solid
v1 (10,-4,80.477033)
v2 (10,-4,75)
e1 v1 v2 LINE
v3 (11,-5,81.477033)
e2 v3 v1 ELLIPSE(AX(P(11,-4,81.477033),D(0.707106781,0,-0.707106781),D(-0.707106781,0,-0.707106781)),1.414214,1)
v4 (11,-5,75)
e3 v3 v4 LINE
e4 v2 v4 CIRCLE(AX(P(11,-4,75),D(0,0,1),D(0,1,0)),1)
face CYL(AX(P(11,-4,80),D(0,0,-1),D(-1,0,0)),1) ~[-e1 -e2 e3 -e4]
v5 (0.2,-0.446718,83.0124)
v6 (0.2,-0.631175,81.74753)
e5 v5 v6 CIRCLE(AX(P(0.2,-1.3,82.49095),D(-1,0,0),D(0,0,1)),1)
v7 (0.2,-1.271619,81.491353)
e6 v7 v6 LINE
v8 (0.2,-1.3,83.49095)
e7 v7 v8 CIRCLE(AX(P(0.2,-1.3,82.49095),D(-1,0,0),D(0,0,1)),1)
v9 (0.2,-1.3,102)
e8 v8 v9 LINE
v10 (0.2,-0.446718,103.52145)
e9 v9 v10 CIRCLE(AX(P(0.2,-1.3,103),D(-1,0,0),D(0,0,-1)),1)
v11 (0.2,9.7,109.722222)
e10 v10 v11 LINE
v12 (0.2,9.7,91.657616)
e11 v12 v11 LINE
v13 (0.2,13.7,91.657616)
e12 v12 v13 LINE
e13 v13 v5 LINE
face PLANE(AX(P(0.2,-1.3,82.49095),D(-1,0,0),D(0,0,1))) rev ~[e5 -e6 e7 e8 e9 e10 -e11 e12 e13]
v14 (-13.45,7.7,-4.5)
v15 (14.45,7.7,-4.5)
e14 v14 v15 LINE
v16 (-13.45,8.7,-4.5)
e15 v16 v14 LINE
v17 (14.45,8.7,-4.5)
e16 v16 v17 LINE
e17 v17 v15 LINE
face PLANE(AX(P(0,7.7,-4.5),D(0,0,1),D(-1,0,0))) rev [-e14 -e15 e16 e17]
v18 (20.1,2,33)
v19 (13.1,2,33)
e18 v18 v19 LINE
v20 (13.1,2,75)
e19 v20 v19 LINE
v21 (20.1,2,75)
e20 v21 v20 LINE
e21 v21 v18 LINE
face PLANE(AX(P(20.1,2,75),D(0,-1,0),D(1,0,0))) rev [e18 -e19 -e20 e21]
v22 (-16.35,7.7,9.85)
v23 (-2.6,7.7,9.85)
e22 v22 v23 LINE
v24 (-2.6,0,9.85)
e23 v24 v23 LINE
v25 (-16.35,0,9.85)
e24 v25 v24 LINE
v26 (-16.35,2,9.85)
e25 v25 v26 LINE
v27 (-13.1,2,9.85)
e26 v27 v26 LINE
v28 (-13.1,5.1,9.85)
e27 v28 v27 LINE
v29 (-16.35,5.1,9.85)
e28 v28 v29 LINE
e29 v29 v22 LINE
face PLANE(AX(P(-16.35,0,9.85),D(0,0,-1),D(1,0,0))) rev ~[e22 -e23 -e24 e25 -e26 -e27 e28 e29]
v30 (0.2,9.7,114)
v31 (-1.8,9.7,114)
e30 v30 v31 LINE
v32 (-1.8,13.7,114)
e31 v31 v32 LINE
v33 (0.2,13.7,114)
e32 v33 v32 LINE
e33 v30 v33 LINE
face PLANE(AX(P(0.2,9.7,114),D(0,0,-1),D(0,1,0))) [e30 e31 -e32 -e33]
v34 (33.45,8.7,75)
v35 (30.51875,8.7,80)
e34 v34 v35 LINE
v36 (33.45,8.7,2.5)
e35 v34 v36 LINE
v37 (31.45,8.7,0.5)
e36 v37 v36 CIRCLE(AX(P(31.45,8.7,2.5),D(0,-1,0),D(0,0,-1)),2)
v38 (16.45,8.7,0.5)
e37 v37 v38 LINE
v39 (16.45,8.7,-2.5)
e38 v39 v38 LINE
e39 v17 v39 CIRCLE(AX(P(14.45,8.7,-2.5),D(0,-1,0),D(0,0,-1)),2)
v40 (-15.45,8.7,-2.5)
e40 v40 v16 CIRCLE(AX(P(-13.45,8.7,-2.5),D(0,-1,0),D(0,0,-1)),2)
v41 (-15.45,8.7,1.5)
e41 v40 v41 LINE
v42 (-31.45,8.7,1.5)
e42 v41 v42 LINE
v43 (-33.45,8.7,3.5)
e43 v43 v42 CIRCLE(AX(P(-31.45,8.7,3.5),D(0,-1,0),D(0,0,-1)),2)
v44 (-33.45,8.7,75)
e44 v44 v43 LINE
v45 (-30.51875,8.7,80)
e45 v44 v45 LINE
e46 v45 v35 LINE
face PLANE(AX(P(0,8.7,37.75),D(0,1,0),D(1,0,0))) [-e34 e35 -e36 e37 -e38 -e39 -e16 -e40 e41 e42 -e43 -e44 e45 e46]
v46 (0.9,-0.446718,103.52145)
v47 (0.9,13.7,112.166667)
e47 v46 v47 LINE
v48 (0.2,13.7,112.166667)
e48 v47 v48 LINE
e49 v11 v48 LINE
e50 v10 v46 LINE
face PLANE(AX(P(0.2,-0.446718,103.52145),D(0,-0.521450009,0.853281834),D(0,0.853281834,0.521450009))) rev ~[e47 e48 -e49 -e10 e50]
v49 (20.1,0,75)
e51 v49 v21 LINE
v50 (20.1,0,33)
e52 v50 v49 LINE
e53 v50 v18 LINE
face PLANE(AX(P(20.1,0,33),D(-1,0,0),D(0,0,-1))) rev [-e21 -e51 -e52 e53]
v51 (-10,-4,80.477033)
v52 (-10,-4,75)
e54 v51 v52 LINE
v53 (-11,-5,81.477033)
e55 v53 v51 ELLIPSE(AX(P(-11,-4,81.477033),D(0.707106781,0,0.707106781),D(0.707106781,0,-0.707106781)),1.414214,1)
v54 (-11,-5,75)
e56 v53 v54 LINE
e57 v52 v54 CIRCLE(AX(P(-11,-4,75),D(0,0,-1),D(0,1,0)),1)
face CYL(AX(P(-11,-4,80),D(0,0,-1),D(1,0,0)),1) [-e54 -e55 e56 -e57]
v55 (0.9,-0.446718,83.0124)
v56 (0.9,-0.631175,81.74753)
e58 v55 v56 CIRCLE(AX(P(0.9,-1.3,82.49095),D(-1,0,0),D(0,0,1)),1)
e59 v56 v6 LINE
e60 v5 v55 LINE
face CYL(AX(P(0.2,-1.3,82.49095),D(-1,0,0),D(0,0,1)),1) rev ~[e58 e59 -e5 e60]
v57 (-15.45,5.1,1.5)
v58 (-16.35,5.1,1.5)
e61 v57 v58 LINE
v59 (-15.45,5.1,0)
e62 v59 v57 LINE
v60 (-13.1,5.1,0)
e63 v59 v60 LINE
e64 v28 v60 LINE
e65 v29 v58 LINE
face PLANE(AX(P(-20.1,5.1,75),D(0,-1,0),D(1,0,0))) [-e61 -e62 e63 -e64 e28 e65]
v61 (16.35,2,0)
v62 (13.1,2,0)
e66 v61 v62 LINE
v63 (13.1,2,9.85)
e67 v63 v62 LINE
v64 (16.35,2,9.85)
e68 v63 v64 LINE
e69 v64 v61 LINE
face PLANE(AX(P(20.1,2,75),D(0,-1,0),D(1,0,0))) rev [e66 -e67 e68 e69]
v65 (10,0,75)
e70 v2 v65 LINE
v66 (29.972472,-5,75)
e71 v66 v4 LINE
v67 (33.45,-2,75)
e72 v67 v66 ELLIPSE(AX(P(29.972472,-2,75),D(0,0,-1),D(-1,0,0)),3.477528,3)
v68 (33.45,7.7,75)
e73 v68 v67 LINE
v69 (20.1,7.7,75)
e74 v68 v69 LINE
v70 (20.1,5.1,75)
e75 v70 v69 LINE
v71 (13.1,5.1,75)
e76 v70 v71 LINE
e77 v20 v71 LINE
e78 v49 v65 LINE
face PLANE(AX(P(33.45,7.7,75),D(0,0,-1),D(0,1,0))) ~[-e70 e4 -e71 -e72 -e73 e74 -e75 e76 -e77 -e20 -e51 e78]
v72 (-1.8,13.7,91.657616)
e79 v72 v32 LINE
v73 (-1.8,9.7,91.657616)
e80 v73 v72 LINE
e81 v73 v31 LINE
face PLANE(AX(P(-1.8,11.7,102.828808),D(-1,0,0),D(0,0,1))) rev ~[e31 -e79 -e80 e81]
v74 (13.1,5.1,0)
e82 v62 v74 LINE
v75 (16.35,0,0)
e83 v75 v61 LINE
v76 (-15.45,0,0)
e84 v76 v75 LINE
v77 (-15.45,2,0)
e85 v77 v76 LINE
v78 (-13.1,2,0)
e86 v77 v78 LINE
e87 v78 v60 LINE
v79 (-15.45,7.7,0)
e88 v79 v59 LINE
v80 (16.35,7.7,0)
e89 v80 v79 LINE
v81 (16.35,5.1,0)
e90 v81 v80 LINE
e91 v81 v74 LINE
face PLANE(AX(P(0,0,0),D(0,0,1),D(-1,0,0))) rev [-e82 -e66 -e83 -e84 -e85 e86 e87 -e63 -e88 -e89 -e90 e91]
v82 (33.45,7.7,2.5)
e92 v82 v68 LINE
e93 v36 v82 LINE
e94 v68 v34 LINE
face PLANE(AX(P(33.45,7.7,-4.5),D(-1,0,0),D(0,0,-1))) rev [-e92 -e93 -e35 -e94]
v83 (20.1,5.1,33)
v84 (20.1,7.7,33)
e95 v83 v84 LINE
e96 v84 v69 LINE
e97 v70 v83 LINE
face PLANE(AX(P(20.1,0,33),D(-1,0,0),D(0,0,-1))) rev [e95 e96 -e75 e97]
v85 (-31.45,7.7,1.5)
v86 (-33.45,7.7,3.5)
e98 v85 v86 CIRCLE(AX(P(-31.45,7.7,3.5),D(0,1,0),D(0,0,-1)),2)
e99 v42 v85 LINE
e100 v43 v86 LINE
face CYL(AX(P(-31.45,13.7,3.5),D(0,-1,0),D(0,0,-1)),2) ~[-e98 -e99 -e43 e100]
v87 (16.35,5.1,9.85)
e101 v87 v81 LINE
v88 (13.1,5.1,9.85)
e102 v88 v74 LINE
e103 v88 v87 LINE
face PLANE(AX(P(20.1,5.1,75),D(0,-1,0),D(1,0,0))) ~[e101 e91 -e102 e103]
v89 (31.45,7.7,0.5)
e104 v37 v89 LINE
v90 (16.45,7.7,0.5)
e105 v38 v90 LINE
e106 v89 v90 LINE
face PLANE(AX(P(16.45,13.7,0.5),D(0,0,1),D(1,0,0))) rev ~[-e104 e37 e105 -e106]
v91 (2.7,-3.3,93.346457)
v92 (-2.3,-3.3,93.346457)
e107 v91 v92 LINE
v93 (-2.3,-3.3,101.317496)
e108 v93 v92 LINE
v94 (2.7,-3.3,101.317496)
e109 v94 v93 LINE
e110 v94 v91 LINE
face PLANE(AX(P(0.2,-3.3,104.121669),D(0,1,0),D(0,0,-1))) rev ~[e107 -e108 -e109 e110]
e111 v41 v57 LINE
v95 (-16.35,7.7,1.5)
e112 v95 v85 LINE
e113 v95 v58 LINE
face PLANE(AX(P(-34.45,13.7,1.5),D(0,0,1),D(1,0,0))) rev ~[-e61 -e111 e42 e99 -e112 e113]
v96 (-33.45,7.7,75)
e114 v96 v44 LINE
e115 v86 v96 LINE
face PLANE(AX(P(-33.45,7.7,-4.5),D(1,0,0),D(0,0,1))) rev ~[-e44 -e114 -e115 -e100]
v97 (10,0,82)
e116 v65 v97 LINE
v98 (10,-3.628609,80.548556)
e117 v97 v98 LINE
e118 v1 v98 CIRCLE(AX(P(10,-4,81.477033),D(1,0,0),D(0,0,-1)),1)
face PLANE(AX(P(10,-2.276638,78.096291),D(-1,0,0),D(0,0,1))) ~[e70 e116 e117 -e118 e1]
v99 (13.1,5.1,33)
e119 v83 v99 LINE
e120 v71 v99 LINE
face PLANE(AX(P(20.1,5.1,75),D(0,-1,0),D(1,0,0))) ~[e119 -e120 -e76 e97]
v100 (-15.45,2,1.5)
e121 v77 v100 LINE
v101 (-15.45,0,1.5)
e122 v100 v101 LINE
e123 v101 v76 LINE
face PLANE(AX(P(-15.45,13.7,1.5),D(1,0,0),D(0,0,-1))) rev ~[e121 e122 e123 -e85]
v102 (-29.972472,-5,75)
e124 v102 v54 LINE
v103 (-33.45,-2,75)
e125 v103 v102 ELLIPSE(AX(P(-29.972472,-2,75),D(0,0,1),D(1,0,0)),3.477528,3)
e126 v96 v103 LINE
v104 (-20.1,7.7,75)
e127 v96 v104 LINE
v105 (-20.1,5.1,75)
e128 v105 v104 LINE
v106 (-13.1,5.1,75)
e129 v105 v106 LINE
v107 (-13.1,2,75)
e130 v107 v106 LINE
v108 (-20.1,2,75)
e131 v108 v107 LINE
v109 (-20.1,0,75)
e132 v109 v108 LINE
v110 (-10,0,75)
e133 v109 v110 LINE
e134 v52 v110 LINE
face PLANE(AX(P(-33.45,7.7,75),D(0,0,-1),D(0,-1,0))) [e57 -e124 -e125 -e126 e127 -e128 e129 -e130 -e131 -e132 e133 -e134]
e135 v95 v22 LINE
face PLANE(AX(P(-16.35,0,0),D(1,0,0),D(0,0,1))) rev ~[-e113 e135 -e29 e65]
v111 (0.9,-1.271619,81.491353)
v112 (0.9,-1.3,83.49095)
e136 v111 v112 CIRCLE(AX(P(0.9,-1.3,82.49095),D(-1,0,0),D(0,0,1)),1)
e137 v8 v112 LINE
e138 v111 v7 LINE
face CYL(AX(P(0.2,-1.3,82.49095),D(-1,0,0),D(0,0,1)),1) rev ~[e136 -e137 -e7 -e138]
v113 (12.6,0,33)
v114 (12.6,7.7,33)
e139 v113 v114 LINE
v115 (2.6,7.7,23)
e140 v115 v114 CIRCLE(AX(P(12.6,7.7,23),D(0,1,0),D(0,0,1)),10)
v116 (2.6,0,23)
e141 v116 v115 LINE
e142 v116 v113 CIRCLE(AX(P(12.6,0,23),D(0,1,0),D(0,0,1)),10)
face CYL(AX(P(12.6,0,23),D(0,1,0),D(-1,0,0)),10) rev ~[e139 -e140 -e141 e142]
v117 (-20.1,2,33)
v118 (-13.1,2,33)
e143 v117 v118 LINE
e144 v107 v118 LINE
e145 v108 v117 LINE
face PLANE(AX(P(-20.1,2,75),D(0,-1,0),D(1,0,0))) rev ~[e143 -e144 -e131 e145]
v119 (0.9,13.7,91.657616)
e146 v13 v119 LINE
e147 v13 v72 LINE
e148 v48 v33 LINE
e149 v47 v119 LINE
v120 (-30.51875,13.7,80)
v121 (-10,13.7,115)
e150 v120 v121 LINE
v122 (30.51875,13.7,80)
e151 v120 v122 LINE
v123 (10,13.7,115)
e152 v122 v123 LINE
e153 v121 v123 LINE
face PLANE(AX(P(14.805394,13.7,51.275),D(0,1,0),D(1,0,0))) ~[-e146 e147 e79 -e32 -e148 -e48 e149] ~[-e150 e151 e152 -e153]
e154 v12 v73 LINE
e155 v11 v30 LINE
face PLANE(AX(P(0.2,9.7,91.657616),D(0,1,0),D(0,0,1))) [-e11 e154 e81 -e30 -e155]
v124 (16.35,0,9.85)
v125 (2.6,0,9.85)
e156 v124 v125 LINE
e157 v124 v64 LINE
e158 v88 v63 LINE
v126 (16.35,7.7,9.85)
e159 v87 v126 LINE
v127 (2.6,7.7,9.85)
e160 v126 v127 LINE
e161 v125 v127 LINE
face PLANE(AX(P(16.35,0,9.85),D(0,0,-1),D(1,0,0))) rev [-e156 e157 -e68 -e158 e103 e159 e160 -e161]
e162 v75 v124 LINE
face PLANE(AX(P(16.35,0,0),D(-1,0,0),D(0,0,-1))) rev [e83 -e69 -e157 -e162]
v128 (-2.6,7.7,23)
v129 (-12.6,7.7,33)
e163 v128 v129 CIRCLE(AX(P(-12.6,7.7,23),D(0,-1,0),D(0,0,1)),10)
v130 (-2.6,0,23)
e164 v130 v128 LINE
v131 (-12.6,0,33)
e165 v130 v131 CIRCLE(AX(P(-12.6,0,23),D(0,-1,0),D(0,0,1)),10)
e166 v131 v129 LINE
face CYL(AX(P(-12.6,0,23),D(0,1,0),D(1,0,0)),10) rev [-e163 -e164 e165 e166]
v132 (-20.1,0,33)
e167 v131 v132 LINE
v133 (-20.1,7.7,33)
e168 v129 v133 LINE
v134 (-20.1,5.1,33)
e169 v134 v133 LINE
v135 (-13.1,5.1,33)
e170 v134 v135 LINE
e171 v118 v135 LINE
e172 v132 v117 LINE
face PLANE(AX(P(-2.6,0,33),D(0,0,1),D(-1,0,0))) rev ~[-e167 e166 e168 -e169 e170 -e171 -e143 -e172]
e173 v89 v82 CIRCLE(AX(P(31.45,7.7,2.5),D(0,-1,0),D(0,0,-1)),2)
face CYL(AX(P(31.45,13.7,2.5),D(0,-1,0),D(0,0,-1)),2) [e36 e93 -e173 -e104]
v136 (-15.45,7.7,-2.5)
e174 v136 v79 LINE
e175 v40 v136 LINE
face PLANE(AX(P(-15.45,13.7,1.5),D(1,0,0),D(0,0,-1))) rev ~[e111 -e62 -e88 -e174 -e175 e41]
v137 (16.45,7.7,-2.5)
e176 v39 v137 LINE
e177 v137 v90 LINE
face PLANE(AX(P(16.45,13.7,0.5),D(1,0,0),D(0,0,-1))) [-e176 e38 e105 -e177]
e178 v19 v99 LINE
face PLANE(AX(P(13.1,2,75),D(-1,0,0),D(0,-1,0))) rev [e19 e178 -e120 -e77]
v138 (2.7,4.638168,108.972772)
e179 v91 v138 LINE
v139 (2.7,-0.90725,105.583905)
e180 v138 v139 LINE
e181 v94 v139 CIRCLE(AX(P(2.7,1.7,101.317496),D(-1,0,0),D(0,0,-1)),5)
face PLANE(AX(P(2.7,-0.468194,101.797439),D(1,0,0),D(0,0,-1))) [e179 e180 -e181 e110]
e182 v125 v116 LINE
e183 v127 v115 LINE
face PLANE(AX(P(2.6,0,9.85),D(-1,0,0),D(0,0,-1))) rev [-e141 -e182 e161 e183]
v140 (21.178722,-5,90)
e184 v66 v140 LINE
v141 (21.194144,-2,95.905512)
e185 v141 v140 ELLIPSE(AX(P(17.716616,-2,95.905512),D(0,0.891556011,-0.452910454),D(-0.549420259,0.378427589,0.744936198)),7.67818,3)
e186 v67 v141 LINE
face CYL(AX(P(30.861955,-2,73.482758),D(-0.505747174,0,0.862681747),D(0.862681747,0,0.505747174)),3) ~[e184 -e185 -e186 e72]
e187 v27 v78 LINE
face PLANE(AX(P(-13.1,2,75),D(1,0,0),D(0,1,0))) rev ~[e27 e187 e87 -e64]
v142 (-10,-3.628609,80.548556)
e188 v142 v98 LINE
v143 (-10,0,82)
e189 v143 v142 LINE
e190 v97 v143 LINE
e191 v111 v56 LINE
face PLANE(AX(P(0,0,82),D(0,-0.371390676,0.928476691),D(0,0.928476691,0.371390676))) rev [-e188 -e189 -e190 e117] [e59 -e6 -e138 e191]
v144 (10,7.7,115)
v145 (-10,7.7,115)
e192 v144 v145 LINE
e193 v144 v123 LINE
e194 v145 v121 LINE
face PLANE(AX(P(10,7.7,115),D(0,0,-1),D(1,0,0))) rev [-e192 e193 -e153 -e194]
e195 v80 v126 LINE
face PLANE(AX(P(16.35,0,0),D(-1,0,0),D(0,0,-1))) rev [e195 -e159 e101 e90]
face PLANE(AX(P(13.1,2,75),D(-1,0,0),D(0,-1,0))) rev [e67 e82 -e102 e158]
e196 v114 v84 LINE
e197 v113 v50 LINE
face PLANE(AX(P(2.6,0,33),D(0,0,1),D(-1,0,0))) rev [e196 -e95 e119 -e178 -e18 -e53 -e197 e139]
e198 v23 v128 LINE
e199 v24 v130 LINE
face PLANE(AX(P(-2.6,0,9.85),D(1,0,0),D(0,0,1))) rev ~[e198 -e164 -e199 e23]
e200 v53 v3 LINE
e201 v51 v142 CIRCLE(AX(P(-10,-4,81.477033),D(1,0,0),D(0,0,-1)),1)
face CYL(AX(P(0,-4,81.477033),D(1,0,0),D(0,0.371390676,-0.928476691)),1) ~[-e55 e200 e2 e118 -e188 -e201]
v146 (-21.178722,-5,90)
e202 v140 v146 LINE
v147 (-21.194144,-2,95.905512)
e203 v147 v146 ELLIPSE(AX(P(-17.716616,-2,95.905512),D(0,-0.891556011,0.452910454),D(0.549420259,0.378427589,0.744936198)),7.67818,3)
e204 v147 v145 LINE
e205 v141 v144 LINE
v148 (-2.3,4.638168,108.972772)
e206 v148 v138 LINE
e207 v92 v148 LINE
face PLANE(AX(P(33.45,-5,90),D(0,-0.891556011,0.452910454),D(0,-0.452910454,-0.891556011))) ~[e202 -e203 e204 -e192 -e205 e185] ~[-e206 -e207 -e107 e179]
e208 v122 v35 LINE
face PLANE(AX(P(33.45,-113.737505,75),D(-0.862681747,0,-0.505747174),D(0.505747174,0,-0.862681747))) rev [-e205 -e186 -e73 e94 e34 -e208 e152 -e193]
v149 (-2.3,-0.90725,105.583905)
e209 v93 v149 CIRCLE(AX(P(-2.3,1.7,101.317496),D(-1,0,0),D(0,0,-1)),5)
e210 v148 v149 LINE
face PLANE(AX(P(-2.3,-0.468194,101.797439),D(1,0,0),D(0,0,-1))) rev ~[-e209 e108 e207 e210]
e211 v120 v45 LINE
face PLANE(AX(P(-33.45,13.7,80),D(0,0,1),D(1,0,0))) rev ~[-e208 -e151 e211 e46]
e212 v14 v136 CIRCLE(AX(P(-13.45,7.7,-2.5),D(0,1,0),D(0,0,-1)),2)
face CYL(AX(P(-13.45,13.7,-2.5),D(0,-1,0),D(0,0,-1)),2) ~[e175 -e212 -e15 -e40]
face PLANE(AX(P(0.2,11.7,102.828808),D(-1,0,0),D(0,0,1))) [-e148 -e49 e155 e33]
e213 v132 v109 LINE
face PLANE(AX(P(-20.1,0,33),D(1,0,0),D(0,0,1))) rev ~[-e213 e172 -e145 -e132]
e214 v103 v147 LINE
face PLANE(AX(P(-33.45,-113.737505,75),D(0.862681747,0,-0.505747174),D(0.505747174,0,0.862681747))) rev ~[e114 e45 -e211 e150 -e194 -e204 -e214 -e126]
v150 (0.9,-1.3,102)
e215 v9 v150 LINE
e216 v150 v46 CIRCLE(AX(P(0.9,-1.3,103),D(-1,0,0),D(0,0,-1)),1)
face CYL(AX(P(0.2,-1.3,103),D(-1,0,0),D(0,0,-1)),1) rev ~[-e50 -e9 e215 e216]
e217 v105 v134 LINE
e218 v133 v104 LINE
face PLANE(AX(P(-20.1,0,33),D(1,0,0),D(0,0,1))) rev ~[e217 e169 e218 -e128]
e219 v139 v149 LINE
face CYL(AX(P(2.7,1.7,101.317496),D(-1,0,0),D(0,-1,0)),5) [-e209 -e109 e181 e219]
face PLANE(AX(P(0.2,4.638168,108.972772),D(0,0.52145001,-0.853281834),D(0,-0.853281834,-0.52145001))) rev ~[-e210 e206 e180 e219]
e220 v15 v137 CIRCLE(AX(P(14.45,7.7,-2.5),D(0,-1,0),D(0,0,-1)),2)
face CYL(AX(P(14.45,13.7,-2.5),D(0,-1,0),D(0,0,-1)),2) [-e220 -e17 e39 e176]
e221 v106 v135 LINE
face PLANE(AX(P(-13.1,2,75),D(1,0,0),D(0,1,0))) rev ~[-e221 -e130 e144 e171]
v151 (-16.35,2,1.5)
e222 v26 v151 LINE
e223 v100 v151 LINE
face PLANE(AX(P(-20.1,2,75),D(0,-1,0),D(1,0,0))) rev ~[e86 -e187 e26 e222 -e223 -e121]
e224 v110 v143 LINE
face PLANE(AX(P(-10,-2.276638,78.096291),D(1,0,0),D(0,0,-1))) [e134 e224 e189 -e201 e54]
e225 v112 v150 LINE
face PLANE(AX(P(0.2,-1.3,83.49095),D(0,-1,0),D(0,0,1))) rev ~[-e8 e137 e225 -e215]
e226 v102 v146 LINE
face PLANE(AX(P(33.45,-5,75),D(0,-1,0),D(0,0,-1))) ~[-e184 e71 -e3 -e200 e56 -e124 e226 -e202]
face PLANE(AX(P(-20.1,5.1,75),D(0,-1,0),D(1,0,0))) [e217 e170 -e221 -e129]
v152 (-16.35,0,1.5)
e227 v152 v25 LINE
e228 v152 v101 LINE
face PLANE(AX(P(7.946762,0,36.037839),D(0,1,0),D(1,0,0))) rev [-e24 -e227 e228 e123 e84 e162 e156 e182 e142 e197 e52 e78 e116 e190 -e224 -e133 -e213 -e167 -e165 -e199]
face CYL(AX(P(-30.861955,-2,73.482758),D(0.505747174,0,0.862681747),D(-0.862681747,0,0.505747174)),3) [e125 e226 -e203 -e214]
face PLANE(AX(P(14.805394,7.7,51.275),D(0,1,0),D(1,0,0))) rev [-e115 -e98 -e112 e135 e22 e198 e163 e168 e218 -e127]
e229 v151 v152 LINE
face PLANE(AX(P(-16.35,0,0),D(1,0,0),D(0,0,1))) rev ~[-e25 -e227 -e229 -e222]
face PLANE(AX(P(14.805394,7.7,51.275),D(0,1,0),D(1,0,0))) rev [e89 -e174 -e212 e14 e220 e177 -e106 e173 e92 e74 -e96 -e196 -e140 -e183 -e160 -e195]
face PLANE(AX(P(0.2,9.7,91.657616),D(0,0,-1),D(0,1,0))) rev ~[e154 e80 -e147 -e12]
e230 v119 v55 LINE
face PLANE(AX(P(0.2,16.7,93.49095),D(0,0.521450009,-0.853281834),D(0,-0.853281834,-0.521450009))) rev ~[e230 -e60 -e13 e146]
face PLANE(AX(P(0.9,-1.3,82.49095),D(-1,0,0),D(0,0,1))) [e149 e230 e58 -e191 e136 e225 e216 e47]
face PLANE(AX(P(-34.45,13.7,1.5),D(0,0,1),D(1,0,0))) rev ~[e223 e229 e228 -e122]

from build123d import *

# Parameters (mm, degrees)
BOSS_EXTRUDE1_DEPTH     = 7.7
SKETCH2_W               = 7
SKETCH2_H               = 3.1
CUT_EXTRUDE1_DEPTH      = 79.027559234
FILLET1_R               = 10
BOSS_EXTRUDE2_DEPTH     = 6
BOSS_EXTRUDE4_REACH     = 122.547
CUT_EXTRUDE2_DEPTH      = 121.437504541
CUT_EXTRUDE2_DEPTH_BACK = 121.437504541
CUT_EXTRUDE3_DEPTH      = 10
FILLET3_R               = 1
FILLET5_R               = 3
CUT_EXTRUDE4_REACH      = 123.217
SKETCH8_W               = 17
SKETCH8_H               = 5
SKETCH8_W_2             = 19
SKETCH8_H_2             = 7
FILLET6_R               = 2
FILLET7_R               = 2
BOSS_EXTRUDE5_DEPTH     = 2.5
FILLET8_R               = 5
SKETCH11_R              = 1
CUT_EXTRUDE5_DEPTH      = 0.7
SKETCH13_W              = 22.342383579
SKETCH13_H              = 4
CUT_EXTRUDE6_DEPTH      = 2
SKETCH14_W              = 66.9
SKETCH14_H              = 84.5
CUT_EXTRUDE8_DEPTH      = 5


with BuildPart() as part:
    # Sketch1 → Boss-Extrude1 (new body)
    with BuildSketch(Plane(origin=(0, 0, 0), x_dir=(1, 0, 0), z_dir=(0, 1, 0))):
        Polygon((0, 0), (-16.35, 0), (-16.35, -9.85), (-2.6, -9.85), (-2.6, -33), (-20.1, -33), (-20.1, -75), (0, -75), align=None)
    extrude(amount=BOSS_EXTRUDE1_DEPTH)

    # Sketch2 → Cut-Extrude1 (cut, through all)
    with BuildSketch(Plane.XY.offset(75)):
        with Locations((-16.6, 3.55)):
            Rectangle(SKETCH2_W, SKETCH2_H)
    extrude(amount=-CUT_EXTRUDE1_DEPTH, mode=Mode.SUBTRACT)

    # Fillet1
    fillet1_edges = [part.edges().sort_by_distance(p)[0] for p in [
        (-2.6, 3.85, 33),
    ]]
    fillet(fillet1_edges, radius=FILLET1_R)

    # Sketch3 → Boss-Extrude2 (add)
    with BuildSketch(Plane(origin=(0, 7.7, 0), x_dir=(1, 0, 0), z_dir=(0, 1, 0))):
        Polygon((0, 4.5), (-33.45, 4.5), (-33.45, -75), (-10, -115), (0, -115), align=None)
    extrude(amount=BOSS_EXTRUDE2_DEPTH)

    # Boss-Extrude4: up to this face of the body (flat: up to its plane)
    boss_extrude4_end = Plane(part.part.faces().sort_by_distance((0, 7.644090382, 47.331402086))[0])
    # Sketch5 → Boss-Extrude4 (add, up to the picked face)
    with BuildSketch(Plane.ZY.offset(33.45), mode=Mode.PRIVATE) as boss_extrude4_sk1:
        Polygon((75, 7.7), (75, -5), (90, -5), (115, 7.7), align=None)
    boss_extrude4_tool1 = split(extrude(boss_extrude4_sk1.sketch, amount=-BOSS_EXTRUDE4_REACH, mode=Mode.PRIVATE), bisect_by=boss_extrude4_end, keep=Keep.BOTH, mode=Mode.PRIVATE)
    add(boss_extrude4_tool1.solids().sort_by(Axis((-33.45, 2.312121, 89.69697), (1, 0, 0)))[0])

    # Sketch6 → Cut-Extrude2 (cut, two sides: drawn at the far end of the back side and taken through both)
    with BuildSketch(Plane(origin=(0, 7.7, 0), x_dir=(1, 0, 0), z_dir=(0, 1, 0)).offset(-CUT_EXTRUDE2_DEPTH_BACK)):
        Polygon((-33.45, -75), (-10, -115), (-33.45, -115), align=None)
    extrude(amount=CUT_EXTRUDE2_DEPTH + CUT_EXTRUDE2_DEPTH_BACK, mode=Mode.SUBTRACT)

    # Sketch7 → Cut-Extrude3 (cut)
    with BuildSketch(Plane(origin=(0, 0, 0), x_dir=(0, 0, -1), z_dir=(1, 0, 0))):
        Polygon((-75, 0), (-82, 0), (-80, -5), (-75, -5), align=None)
    extrude(amount=-CUT_EXTRUDE3_DEPTH, mode=Mode.SUBTRACT)

    # Fillet3
    fillet3_edges = [part.edges().sort_by_distance(p)[0] for p in [
        (-10, -5, 77.5),
        (-5, -5, 80),
    ]]
    fillet(fillet3_edges, radius=FILLET3_R)

    # Mirror1: part across plane


with BuildPart() as part_1:
    add(part.part)
    add(part.part.mirror(Plane(origin=(0, 7.7, 75), x_dir=(0, 0, 1), z_dir=(-1, 0, 0))))

    # Fillet5
    fillet5_edges = [part_1.edges().sort_by_distance(p)[0] for p in [
        (-29.053125, -5, 82.5),
        (29.053125, -5, 82.5),
    ]]
    fillet(fillet5_edges, radius=FILLET5_R)

    # Cut-Extrude4: up to this face of the body (flat: up to its plane)
    cut_extrude4_end = Plane(part_1.part.faces().sort_by_distance((0, 0, 46.525100135))[0])
    # Sketch8 → Cut-Extrude4 (cut, up to the picked face)
    with BuildSketch(Plane(origin=(0, 13.7, 0), x_dir=(1, 0, 0), z_dir=(0, 1, 0)), mode=Mode.PRIVATE) as cut_extrude4_sk1:
        with Locations((24.95, 2)):
            Rectangle(SKETCH8_W, SKETCH8_H)
    cut_extrude4_tool1 = split(extrude(cut_extrude4_sk1.sketch, amount=-CUT_EXTRUDE4_REACH, mode=Mode.PRIVATE), bisect_by=cut_extrude4_end, keep=Keep.BOTH, mode=Mode.PRIVATE)
    # Sketch8 → Cut-Extrude4 (cut, up to the picked face)
    with BuildSketch(Plane(origin=(0, 13.7, 0), x_dir=(1, 0, 0), z_dir=(0, 1, 0)), mode=Mode.PRIVATE) as cut_extrude4_sk2:
        with Locations((-24.95, 2)):
            Rectangle(SKETCH8_W_2, SKETCH8_H_2)
    cut_extrude4_tool2 = split(extrude(cut_extrude4_sk2.sketch, amount=-CUT_EXTRUDE4_REACH, mode=Mode.PRIVATE), bisect_by=cut_extrude4_end, keep=Keep.BOTH, mode=Mode.PRIVATE)
    add(cut_extrude4_tool1.solids().sort_by(Axis((24.95, 13.7, -2), (0, -1, 0)))[0], mode=Mode.SUBTRACT)
    add(cut_extrude4_tool2.solids().sort_by(Axis((-24.95, 13.7, -2), (0, -1, 0)))[0], mode=Mode.SUBTRACT)

    # Fillet6
    fillet6_edges = [part_1.edges().sort_by_distance(p)[0] for p in [
        (-15.45, 10.7, -4.5),
        (-33.45, 10.7, 1.5),
    ]]
    fillet(fillet6_edges, radius=FILLET6_R)

    # Fillet7
    fillet7_edges = [part_1.edges().sort_by_distance(p)[0] for p in [
        (33.45, 10.7, 0.5),
        (16.45, 10.7, -4.5),
    ]]
    fillet(fillet7_edges, radius=FILLET7_R)

    # Sketch12 → Boss-Extrude5 (add, symmetric)
    with BuildSketch(Plane.ZY.offset(-0.2)):
        Polygon((93.346456693, -3.3), (108.972772013, 4.638168182), (104.121669234, -3.3), align=None)
    extrude(amount=BOSS_EXTRUDE5_DEPTH, both=True)

    # Fillet8
    fillet8_edges = [part_1.edges().sort_by_distance(p)[0] for p in [
        (0.2, -3.3, 104.121669234),
    ]]
    fillet(fillet8_edges, radius=FILLET8_R)

    # Sketch11 → Cut-Extrude5 (cut)
    with BuildSketch(Plane.ZY.offset(-0.2)):
        with Locations((82.490949754, -1.3)):
            Circle(SKETCH11_R)
        with Locations((103, -1.3)):
            Circle(SKETCH11_R)
        Polygon((82.490949754, -1.3), (103, -1.3), (114, 16.7), (93.490949754, 16.7), align=None)
        with BuildLine():
            Line((83.490949754, -1.3), (82.490949754, -1.3))
            Line((82.490949754, -1.3), (83.012399764, -0.446718166))
            ThreePointArc((83.012399764, -0.446718166), (81.618754246, -1.789157434), (83.490949754, -1.3))
        make_face()
        with BuildLine():
            Line((83.012399764, -0.446718166), (82.490949754, -1.3))
            Line((82.490949754, -1.3), (83.490949754, -1.3))
            ThreePointArc((83.490949754, -1.3), (83.363145263, -0.810842566), (83.012399764, -0.446718166))
        make_face()
        with BuildLine():
            ThreePointArc((103.521450009, -0.446718166), (102.510842566, -0.427804492), (102, -1.3))
            Line((102, -1.3), (103, -1.3))
            Line((103, -1.3), (103.521450009, -0.446718166))
        make_face()
        with BuildLine():
            Line((103, -1.3), (102, -1.3))
            ThreePointArc((102, -1.3), (103, -2.3), (104, -1.3))
            ThreePointArc((104, -1.3), (103.872195508, -0.810842566), (103.521450009, -0.446718166))
            Line((103.521450009, -0.446718166), (103, -1.3))
        make_face()
    extrude(amount=-CUT_EXTRUDE5_DEPTH, mode=Mode.SUBTRACT)

    # Sketch13 → Cut-Extrude6 (cut)
    with BuildSketch(Plane.ZY.offset(-0.2)):
        with Locations((102.828808211, 11.7)):
            Rectangle(SKETCH13_W, SKETCH13_H)
    extrude(amount=CUT_EXTRUDE6_DEPTH, mode=Mode.SUBTRACT)

    # Sketch14 → Cut-Extrude8 (cut)
    with BuildSketch(Plane(origin=(0, 13.7, 0), x_dir=(1, 0, 0), z_dir=(0, 1, 0))):
        with Locations((0, -37.75)):
            Rectangle(SKETCH14_W, SKETCH14_H)
    extrude(amount=-CUT_EXTRUDE8_DEPTH, mode=Mode.SUBTRACT)


solid = part_1.part
